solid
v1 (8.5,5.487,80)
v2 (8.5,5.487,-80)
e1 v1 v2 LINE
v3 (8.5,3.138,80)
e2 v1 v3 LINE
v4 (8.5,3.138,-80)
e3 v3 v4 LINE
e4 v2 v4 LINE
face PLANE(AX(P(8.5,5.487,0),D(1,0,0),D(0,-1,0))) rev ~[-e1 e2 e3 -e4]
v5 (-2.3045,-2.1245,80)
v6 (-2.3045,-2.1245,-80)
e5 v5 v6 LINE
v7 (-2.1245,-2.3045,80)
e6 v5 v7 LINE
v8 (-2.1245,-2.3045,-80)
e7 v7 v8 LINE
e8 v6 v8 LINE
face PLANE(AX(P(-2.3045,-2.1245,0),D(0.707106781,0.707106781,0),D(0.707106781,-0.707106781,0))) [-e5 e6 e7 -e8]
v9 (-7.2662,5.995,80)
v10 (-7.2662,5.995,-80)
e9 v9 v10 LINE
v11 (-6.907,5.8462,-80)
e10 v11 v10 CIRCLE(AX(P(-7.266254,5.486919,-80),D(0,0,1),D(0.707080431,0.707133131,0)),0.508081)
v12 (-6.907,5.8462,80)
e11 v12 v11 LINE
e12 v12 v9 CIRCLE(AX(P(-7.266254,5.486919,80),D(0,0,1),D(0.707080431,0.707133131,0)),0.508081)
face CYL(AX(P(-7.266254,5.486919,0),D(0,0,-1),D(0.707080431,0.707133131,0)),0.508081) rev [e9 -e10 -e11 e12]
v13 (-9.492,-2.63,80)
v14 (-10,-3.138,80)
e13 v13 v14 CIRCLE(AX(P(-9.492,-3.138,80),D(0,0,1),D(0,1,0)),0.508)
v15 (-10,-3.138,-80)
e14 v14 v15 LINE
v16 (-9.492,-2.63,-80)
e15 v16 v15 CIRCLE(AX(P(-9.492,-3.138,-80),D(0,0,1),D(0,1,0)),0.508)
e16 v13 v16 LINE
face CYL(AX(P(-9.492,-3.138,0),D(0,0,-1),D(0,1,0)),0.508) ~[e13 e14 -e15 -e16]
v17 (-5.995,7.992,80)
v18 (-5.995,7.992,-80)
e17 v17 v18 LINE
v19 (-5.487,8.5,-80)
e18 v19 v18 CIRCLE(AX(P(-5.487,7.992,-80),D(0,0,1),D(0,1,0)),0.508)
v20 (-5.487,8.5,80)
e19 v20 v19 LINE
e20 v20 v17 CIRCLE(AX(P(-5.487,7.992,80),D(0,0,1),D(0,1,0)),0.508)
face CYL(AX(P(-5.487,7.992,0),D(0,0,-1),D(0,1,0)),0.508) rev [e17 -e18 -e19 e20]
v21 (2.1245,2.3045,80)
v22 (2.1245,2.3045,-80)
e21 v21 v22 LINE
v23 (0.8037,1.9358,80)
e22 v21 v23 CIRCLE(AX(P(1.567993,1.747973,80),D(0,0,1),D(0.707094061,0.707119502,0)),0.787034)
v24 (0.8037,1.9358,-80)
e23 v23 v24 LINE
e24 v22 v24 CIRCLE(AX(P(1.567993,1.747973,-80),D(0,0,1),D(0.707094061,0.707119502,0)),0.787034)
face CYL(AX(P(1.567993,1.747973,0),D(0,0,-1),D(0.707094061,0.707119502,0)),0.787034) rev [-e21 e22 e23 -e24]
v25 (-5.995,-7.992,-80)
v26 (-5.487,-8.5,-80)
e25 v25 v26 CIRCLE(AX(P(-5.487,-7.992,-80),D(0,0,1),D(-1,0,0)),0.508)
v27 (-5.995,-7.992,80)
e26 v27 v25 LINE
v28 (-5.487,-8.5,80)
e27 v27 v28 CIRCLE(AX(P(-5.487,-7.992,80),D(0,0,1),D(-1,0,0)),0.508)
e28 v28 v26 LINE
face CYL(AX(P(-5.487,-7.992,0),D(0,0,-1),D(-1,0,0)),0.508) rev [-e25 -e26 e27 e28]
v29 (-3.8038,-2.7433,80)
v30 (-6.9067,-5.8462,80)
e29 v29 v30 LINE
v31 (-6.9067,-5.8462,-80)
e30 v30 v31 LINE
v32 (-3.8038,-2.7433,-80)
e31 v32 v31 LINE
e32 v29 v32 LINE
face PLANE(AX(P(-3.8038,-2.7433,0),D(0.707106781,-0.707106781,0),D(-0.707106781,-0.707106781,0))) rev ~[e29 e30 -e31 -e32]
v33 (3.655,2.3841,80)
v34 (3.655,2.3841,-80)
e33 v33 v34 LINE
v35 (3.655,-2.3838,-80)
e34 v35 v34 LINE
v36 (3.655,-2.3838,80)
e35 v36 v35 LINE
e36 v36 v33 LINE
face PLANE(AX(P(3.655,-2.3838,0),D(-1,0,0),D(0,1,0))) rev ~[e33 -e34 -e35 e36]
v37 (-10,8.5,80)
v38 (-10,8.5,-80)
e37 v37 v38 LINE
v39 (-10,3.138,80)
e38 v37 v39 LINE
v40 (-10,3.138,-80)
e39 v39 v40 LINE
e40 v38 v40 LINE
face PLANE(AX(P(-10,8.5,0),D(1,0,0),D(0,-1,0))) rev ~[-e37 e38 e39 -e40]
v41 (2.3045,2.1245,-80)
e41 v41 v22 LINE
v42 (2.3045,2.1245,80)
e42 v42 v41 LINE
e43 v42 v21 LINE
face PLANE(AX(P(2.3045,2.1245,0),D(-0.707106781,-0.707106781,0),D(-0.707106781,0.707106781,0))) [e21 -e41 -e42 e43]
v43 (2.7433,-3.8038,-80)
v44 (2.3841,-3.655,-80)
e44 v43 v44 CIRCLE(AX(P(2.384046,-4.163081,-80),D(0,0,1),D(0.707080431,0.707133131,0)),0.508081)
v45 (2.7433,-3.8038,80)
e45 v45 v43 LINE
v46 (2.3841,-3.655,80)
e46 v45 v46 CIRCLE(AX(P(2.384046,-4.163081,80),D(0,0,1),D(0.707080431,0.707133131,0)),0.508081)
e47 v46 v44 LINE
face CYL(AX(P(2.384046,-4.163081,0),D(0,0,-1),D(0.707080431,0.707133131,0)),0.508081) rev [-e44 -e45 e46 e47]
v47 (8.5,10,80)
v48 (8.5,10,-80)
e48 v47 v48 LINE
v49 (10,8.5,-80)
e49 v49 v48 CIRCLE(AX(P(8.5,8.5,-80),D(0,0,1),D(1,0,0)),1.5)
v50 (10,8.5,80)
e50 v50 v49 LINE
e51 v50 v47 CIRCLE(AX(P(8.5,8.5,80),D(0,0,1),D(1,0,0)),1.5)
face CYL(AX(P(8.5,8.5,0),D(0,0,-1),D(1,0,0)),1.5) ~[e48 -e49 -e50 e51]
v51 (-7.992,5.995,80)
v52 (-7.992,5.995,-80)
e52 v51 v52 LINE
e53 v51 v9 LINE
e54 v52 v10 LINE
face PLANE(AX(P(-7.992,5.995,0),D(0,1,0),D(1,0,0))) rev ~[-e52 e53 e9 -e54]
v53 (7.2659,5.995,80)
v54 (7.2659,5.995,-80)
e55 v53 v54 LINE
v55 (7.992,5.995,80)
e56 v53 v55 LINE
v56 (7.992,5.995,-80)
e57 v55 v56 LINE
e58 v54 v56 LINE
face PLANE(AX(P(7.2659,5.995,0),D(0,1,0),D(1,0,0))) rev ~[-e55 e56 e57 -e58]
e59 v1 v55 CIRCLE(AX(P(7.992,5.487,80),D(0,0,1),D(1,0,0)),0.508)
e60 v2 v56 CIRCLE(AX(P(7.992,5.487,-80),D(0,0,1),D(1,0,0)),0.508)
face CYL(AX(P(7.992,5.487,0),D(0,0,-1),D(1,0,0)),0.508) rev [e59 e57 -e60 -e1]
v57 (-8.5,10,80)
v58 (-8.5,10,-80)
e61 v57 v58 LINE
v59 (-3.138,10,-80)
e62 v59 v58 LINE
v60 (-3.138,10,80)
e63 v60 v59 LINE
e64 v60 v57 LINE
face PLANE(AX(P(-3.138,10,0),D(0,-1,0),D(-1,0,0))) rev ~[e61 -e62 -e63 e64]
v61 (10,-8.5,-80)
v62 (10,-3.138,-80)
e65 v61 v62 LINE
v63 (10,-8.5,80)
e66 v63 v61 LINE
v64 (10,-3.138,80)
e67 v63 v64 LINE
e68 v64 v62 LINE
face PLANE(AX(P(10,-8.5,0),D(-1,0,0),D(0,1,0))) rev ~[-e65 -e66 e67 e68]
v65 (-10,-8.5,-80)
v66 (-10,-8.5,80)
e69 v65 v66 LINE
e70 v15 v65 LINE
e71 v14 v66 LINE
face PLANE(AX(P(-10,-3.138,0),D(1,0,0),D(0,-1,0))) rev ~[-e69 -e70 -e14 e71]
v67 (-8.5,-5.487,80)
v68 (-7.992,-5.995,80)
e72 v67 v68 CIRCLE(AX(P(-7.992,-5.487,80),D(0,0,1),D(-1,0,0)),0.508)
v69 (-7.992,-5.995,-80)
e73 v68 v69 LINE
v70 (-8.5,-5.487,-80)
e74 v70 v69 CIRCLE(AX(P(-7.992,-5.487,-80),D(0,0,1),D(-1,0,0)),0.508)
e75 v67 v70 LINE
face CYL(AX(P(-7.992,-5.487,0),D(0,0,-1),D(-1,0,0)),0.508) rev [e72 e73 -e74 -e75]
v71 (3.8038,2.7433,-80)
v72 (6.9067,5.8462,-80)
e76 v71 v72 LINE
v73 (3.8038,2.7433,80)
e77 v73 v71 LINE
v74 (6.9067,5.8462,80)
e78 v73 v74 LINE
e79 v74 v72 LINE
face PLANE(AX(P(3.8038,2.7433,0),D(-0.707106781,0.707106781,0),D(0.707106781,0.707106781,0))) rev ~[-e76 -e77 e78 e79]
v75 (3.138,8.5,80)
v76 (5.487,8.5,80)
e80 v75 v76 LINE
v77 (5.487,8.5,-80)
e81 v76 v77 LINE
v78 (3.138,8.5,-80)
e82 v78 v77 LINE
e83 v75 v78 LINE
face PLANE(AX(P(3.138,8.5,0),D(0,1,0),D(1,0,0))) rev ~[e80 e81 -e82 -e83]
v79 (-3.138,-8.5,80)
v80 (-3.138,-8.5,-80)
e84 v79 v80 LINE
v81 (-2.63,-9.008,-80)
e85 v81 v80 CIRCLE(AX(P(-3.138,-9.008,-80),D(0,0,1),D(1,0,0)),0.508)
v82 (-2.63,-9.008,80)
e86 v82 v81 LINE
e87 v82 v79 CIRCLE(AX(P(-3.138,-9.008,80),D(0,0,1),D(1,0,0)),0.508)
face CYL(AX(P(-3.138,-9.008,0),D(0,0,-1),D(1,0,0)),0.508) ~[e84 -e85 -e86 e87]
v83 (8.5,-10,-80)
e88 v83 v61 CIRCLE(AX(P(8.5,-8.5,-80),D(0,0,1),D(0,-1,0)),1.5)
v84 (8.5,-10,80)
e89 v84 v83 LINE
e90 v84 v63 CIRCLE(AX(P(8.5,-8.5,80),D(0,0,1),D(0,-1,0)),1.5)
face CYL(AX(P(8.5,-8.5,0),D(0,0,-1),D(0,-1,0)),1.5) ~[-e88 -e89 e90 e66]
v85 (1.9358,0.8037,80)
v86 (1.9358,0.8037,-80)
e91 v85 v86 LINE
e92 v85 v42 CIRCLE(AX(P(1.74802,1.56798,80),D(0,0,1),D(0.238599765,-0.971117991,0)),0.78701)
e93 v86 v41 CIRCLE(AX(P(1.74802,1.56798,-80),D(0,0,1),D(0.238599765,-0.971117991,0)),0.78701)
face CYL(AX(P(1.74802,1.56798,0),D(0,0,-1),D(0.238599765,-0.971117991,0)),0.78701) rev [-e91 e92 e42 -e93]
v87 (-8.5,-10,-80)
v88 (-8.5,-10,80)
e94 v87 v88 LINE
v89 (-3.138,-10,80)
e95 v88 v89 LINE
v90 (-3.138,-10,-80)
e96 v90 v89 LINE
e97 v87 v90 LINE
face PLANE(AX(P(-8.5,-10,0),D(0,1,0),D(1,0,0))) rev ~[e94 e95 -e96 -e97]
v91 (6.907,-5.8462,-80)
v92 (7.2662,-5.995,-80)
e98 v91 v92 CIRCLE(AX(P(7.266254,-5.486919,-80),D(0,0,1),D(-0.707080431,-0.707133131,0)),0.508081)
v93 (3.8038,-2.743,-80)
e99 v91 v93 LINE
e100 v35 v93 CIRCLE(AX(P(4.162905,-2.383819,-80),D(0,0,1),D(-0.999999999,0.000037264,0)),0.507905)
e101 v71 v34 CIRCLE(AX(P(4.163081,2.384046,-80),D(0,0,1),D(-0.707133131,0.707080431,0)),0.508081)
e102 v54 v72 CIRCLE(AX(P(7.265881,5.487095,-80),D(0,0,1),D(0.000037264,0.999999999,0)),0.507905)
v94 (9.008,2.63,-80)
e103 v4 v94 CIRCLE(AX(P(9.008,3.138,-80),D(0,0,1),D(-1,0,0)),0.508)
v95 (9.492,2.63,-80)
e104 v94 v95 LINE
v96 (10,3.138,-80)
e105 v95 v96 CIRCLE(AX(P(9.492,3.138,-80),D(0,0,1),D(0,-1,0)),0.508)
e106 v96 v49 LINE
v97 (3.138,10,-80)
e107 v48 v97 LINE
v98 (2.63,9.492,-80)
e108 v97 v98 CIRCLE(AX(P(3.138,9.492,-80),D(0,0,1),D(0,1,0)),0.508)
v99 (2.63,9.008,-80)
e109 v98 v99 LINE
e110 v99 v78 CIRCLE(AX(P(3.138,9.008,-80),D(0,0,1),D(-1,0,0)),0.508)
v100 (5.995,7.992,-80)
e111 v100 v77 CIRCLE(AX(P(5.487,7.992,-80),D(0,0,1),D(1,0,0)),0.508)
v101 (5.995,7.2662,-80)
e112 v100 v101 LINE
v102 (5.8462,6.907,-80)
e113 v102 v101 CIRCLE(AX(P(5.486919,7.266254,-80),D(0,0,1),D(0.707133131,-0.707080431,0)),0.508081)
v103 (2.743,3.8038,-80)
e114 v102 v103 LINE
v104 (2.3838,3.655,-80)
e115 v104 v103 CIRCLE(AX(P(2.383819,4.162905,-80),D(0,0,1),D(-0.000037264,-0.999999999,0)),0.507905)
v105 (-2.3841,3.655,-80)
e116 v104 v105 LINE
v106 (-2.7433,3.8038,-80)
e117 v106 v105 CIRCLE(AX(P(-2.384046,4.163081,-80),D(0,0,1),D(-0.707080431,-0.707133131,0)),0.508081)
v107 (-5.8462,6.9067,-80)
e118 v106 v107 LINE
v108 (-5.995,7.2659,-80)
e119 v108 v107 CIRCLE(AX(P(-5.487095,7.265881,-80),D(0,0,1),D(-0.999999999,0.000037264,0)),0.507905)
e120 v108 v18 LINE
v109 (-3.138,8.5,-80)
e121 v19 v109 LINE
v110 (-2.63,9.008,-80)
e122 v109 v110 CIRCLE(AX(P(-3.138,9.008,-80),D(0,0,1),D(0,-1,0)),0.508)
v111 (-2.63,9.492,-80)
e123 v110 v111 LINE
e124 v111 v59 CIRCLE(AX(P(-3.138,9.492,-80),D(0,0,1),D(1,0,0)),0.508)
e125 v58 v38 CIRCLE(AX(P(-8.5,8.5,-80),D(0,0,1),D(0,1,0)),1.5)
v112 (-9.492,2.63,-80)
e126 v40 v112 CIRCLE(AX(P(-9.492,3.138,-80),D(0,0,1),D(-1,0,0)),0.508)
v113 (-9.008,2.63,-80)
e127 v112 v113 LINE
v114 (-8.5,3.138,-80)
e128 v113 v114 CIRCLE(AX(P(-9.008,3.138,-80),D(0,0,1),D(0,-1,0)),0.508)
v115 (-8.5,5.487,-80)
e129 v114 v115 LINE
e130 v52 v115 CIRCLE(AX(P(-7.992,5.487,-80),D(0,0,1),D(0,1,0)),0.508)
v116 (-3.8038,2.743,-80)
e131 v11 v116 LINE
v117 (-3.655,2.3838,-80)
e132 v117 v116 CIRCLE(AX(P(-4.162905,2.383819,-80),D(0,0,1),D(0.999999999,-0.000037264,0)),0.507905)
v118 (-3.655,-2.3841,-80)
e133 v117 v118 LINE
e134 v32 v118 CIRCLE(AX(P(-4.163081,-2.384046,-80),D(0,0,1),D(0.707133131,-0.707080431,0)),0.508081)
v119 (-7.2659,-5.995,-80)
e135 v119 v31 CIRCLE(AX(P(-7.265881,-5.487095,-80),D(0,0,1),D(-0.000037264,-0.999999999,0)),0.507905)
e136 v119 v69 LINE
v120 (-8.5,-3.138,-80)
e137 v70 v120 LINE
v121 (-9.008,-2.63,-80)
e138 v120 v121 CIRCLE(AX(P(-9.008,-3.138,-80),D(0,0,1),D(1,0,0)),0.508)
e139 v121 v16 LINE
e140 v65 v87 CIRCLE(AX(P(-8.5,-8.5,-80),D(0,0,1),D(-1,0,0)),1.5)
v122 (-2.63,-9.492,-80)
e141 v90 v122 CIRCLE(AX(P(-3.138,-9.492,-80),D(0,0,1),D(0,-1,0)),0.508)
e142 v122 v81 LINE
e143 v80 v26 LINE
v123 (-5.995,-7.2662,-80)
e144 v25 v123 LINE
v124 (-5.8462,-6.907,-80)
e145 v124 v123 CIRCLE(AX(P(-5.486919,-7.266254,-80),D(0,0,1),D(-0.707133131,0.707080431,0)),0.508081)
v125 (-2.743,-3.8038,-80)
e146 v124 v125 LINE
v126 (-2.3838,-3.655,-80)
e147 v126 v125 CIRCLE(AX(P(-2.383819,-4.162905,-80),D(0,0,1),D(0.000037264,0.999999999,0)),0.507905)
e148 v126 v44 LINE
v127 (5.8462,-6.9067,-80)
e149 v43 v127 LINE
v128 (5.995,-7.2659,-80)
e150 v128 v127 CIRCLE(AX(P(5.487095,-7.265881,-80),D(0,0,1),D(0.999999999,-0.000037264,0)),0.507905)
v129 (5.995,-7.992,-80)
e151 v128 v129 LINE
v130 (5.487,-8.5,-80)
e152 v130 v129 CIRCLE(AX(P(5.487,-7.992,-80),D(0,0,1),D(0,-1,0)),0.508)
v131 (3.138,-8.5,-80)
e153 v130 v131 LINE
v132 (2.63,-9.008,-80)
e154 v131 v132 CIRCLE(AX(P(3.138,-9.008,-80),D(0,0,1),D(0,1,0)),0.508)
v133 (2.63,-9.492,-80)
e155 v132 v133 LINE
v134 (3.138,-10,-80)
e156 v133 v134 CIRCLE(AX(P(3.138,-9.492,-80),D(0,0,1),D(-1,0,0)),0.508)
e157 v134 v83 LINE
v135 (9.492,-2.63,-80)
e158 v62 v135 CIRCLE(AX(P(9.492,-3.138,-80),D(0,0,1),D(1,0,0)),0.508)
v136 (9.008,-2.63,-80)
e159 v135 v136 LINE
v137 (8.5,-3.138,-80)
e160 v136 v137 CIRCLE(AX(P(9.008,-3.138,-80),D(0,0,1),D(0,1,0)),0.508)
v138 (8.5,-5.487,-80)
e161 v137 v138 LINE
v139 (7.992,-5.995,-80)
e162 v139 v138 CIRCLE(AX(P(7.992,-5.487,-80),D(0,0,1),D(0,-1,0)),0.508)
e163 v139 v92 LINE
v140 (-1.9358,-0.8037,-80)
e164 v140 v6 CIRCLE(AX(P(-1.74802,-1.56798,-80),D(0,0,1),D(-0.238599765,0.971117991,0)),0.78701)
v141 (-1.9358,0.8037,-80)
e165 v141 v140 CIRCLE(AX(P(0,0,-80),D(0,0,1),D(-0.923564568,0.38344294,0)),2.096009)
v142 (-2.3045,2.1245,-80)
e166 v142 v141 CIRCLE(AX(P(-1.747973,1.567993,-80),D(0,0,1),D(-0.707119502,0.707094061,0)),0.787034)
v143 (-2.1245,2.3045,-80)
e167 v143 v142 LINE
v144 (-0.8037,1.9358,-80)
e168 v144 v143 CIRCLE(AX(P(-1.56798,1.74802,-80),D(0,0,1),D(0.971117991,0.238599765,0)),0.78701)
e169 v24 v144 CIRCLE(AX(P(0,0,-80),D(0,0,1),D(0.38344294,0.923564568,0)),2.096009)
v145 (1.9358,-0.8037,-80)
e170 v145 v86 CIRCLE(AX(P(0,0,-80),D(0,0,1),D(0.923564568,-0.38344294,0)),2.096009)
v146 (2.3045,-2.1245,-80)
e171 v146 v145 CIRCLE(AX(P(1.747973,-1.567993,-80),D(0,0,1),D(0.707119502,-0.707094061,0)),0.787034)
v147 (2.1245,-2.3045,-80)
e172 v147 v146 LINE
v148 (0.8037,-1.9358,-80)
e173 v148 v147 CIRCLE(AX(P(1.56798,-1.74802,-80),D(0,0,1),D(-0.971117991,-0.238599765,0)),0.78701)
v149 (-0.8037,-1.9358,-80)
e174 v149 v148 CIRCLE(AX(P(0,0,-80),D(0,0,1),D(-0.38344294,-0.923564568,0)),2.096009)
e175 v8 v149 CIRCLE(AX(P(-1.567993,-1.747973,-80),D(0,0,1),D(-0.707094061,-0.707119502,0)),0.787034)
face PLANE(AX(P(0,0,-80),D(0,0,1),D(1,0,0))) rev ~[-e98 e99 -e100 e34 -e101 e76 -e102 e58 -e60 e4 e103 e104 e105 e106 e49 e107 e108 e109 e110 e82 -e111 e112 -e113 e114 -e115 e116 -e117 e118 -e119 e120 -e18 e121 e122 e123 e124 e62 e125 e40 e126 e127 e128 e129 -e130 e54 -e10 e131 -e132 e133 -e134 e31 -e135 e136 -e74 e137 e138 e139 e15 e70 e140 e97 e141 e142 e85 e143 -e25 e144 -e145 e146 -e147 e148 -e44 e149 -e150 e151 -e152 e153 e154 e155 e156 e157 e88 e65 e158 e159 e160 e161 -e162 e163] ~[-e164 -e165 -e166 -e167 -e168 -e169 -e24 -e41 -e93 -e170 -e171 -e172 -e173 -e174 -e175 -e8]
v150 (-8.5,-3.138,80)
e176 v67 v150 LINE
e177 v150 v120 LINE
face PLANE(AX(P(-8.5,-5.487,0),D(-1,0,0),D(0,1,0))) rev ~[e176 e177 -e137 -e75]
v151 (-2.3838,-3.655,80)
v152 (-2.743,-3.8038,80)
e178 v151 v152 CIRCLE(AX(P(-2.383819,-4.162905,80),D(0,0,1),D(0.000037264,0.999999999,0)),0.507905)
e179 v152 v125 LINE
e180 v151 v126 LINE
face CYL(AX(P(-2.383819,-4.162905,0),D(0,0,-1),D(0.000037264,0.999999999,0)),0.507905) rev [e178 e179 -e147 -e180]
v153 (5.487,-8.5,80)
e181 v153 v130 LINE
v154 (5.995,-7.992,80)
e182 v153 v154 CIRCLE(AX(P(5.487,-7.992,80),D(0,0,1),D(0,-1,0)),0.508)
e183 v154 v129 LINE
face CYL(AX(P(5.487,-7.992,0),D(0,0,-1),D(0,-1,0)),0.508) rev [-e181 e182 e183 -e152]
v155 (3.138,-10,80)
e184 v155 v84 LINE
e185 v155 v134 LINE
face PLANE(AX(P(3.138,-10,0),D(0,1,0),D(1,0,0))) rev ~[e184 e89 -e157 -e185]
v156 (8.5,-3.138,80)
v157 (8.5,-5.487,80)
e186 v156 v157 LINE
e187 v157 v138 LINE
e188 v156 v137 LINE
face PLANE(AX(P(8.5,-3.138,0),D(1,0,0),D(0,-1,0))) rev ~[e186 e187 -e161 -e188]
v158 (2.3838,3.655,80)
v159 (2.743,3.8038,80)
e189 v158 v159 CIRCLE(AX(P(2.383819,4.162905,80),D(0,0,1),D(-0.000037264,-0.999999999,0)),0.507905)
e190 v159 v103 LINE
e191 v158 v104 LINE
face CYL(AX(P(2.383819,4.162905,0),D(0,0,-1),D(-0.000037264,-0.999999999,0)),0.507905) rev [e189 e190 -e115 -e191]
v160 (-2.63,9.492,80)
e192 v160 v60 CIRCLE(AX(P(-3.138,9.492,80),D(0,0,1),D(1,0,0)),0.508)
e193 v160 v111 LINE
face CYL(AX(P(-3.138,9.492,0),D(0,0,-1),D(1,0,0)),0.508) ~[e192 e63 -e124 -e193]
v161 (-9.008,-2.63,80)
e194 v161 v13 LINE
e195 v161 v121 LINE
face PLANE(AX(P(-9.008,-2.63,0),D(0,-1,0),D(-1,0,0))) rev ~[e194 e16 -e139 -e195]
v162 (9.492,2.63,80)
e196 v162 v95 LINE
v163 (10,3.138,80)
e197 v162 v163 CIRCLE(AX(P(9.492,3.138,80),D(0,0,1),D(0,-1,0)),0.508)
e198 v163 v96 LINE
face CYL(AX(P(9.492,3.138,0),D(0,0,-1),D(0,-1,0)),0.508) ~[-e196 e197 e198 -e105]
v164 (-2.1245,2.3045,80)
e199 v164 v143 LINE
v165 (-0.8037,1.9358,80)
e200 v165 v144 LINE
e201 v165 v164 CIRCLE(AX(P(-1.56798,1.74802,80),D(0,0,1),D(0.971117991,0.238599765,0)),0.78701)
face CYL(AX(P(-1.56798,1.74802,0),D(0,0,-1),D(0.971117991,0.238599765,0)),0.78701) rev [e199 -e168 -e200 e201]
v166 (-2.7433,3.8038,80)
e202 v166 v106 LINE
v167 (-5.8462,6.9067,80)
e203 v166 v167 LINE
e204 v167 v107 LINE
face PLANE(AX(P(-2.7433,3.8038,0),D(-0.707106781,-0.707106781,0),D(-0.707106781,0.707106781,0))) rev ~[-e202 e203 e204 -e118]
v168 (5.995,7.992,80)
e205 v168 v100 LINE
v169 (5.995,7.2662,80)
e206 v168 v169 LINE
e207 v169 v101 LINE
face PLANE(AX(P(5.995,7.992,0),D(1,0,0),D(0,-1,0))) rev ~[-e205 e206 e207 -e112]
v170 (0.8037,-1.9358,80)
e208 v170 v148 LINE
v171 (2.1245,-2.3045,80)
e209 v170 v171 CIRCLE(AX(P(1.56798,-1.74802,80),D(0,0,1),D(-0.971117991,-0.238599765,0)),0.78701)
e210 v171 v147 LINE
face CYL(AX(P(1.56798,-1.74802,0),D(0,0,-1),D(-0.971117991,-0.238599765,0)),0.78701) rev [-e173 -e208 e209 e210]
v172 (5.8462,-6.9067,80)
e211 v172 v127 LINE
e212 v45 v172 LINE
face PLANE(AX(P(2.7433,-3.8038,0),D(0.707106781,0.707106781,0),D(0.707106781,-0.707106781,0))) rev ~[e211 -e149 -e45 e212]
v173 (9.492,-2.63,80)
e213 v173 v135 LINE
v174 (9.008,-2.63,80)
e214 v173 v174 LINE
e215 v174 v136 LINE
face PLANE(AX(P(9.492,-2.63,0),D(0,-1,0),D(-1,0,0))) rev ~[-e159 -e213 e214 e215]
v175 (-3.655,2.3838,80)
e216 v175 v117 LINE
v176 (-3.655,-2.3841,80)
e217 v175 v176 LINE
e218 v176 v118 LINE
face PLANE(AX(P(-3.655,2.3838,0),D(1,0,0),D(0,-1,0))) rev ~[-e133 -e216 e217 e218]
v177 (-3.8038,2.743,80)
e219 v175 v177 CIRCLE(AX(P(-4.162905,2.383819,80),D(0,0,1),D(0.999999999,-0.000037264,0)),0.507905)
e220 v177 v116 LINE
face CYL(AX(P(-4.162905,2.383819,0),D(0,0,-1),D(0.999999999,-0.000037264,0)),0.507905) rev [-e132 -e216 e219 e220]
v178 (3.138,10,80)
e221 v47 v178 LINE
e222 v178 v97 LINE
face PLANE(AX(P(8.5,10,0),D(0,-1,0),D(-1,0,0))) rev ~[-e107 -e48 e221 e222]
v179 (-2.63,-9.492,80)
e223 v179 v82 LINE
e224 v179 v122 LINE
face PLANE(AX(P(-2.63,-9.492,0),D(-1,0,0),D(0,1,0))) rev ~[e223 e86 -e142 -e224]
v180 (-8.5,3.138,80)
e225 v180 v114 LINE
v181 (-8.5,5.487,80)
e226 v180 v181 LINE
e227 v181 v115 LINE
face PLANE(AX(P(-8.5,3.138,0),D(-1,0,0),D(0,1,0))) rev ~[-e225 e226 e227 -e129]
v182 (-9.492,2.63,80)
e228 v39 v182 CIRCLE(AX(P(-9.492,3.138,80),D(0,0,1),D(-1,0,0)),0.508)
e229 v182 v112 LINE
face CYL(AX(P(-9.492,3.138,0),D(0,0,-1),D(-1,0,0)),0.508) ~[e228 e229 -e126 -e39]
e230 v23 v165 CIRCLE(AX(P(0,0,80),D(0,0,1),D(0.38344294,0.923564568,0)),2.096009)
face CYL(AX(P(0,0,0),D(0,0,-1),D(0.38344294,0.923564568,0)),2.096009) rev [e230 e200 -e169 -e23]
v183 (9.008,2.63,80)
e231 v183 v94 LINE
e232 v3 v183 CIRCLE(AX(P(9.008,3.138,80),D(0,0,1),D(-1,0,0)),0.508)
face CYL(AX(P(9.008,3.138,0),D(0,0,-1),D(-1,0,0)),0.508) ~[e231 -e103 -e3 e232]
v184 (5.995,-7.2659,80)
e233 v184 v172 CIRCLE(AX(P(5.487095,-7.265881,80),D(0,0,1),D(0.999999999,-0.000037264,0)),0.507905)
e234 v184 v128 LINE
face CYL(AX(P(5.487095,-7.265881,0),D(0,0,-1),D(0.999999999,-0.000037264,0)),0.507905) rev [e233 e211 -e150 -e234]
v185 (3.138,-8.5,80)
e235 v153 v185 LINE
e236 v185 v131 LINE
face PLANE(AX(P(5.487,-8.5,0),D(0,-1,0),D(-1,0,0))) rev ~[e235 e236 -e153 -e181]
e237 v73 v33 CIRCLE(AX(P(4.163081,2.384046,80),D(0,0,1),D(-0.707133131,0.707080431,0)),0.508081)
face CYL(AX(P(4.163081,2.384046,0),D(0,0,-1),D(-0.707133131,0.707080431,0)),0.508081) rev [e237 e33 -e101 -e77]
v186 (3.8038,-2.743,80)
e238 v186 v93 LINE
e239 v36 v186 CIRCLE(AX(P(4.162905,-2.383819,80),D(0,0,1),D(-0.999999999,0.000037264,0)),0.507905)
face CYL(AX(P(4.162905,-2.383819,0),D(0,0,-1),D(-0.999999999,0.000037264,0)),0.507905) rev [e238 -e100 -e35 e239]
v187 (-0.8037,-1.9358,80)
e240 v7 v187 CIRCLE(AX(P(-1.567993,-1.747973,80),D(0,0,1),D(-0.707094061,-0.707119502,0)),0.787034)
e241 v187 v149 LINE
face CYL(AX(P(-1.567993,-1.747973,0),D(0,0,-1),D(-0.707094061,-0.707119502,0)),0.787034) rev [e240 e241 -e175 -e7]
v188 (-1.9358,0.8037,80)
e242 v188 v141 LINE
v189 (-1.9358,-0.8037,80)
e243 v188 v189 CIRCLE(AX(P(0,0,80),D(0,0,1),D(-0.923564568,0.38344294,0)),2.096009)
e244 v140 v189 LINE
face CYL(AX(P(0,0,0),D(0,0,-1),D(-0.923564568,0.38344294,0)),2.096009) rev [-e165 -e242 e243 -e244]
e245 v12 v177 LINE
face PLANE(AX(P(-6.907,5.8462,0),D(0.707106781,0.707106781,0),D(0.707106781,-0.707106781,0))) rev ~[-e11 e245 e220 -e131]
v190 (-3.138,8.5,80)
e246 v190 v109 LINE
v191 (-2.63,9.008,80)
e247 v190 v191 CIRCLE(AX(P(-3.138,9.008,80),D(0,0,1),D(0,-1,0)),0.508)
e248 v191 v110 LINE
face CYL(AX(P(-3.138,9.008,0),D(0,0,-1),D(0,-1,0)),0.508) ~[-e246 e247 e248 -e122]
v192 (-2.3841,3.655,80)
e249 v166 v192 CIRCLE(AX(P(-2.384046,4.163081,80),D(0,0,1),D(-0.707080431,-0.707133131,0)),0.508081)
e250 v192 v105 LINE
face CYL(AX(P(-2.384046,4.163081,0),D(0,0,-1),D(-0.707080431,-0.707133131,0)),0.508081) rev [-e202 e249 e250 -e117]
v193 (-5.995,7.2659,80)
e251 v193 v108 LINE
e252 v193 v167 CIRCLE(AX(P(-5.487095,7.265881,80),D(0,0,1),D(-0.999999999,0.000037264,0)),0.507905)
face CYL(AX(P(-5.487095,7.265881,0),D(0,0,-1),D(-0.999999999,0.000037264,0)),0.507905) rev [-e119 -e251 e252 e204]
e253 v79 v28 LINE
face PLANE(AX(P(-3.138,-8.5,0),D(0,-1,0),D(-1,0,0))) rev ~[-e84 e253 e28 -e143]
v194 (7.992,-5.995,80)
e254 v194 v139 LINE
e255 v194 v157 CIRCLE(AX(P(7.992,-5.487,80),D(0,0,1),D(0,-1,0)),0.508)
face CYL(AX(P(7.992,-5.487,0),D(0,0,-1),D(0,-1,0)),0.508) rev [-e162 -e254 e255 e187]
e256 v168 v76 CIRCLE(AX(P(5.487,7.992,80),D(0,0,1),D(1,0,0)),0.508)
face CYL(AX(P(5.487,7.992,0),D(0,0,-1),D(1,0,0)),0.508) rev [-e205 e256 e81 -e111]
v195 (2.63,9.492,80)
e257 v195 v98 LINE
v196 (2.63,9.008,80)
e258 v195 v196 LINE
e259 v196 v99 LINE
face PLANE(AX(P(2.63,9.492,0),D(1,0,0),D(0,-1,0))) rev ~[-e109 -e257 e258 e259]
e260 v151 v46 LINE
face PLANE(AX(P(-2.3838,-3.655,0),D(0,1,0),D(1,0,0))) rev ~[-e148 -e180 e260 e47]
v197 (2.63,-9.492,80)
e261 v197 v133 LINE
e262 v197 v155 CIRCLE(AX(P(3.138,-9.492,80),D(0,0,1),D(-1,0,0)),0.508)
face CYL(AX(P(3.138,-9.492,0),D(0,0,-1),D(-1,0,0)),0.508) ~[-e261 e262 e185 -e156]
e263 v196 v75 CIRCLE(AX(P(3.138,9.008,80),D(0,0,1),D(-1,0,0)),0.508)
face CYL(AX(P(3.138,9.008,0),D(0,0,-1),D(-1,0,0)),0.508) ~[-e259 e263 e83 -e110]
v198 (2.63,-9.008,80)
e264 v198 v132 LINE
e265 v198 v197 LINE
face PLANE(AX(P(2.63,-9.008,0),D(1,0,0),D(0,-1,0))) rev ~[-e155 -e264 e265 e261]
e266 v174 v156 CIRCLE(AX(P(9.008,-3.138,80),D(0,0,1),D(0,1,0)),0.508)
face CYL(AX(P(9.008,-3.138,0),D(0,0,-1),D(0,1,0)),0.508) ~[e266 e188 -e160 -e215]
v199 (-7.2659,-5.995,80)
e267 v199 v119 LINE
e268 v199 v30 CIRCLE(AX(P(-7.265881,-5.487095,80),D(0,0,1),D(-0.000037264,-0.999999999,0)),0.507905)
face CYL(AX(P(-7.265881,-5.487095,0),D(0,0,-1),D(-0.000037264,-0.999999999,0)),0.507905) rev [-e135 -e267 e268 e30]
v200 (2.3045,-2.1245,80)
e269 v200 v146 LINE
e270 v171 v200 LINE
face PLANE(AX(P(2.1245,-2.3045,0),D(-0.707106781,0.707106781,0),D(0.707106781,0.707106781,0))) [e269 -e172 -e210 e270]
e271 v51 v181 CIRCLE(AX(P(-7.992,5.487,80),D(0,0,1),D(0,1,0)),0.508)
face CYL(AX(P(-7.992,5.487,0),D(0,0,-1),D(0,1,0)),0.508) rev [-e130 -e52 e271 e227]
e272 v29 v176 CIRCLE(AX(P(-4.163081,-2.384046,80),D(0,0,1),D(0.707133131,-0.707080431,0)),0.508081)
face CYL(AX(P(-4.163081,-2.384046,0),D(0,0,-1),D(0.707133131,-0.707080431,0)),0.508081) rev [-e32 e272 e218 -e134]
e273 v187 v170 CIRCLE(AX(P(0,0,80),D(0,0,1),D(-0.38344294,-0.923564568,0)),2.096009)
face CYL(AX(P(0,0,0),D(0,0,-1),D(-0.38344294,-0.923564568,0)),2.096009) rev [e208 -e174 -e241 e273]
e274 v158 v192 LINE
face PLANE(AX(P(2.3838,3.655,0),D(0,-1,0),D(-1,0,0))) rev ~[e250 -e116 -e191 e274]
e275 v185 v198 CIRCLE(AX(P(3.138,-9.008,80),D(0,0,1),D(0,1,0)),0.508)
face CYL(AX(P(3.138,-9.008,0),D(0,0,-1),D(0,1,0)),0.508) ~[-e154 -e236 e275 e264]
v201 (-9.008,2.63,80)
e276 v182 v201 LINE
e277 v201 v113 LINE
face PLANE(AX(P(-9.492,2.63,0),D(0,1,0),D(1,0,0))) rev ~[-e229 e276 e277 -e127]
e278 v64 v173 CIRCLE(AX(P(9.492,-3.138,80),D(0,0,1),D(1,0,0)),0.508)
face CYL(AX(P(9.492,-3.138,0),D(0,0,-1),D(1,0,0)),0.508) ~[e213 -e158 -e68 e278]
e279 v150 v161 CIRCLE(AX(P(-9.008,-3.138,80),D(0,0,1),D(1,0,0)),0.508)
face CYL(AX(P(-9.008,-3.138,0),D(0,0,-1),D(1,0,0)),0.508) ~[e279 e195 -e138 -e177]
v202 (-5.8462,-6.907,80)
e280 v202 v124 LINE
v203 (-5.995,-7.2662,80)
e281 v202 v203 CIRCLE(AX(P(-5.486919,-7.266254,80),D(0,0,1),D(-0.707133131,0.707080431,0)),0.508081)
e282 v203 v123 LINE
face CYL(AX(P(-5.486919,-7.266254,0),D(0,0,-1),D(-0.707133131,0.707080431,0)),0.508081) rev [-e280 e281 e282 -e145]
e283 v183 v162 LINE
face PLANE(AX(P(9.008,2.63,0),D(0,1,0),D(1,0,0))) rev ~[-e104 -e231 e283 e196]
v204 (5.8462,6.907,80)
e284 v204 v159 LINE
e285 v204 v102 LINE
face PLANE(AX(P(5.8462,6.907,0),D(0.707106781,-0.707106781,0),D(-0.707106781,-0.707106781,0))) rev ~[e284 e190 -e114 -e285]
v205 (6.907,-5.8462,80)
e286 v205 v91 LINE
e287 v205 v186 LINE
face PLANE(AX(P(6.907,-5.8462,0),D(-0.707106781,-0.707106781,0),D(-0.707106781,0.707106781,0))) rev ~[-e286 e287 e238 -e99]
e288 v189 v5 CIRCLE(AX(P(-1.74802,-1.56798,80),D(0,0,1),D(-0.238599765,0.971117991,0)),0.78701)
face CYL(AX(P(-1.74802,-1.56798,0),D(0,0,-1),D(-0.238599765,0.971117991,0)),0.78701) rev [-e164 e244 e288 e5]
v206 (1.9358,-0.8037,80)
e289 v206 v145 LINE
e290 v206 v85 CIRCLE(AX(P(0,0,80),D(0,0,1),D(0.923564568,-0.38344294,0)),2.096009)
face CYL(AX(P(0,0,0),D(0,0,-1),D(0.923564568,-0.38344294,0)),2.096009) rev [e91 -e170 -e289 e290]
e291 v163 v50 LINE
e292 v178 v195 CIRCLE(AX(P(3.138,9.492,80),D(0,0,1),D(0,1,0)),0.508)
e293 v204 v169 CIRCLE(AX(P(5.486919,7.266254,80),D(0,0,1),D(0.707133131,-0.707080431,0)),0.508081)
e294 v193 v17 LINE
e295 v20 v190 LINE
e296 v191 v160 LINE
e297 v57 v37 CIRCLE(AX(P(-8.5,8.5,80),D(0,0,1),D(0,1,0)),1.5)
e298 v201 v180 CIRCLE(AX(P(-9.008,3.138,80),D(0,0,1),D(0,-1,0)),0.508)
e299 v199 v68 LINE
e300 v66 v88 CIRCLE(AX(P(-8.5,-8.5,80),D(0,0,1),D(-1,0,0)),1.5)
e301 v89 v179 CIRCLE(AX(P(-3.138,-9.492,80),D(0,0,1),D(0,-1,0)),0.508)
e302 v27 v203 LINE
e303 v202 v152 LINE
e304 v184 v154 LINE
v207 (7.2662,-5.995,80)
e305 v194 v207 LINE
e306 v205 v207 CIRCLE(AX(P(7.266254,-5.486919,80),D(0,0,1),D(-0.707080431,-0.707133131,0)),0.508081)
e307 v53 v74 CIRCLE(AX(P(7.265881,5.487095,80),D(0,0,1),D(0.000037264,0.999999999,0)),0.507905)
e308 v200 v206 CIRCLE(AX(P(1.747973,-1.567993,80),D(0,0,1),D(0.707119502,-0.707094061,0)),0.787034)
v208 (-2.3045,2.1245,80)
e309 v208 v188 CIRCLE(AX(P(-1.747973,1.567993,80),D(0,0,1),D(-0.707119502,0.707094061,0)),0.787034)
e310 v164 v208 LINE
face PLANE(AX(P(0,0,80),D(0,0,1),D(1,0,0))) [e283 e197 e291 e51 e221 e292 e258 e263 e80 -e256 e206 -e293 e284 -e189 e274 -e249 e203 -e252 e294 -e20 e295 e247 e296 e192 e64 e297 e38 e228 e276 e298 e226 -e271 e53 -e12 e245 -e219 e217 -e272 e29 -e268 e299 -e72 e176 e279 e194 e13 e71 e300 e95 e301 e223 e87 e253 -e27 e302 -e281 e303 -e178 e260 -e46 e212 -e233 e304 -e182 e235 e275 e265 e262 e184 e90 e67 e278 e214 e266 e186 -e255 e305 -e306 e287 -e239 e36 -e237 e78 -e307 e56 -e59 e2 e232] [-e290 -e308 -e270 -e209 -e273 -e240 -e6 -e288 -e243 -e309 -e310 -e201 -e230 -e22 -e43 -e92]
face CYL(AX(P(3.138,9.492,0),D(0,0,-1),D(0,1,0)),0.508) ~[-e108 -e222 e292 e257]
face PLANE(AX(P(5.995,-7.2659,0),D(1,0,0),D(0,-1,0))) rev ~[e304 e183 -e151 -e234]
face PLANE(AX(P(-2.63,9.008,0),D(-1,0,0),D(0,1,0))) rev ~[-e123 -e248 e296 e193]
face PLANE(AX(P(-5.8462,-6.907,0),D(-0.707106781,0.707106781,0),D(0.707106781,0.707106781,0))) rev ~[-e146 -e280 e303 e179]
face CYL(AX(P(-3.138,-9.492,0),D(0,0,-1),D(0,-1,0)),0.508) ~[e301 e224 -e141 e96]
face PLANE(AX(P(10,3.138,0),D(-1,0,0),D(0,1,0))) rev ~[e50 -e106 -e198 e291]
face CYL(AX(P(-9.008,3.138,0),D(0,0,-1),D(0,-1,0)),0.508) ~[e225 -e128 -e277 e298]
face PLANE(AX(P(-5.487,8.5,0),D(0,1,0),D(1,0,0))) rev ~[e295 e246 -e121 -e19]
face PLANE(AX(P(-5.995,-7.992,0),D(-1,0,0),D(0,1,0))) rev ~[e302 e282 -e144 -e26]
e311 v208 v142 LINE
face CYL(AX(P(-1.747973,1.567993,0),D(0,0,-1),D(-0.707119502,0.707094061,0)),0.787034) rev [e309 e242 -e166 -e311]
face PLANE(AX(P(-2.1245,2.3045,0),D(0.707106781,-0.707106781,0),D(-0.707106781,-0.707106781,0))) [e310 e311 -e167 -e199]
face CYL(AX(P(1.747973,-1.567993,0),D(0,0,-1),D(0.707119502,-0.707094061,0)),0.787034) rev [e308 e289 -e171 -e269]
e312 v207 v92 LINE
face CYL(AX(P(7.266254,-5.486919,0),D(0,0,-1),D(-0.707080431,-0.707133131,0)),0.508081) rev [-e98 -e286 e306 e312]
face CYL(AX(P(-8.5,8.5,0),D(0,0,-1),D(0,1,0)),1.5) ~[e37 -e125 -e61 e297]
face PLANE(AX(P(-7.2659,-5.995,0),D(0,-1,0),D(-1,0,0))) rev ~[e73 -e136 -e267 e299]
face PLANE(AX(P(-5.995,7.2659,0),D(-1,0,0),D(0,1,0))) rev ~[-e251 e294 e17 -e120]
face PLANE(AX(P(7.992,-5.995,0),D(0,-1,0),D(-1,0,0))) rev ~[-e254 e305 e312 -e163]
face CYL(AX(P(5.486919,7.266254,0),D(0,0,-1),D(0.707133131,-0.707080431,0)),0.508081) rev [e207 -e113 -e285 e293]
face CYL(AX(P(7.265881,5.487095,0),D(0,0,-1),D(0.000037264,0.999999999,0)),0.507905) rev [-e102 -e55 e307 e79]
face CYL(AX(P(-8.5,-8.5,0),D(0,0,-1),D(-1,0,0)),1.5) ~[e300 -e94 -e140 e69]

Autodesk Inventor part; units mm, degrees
ref_plane "YZ Plane" through (0, 0, 0) normal (1, 0, 0) x (0, 1, 0)
ref_plane "XZ Plane" through (0, 0, 0) normal (0, 1, 0) x (-1, 0, 0)
ref_plane "XY Plane" through (0, 0, 0) normal (0, 0, 1) x (1, 0, 0)
sketch "Sketch1" plane through (0, 0, 0) normal (0, 0, 1) x (1, 0, 0)
  arc A0 (-10, -8.5) -> (-8.5, -10) centre (-8.5, -8.5) ccw
  line L0 (-8.5, -10) -> (-3.138, -10)
  arc A1 (-3.138, -10) -> (-2.63, -9.492) centre (-3.138, -9.492) ccw
  line L1 (-2.63, -9.492) -> (-2.63, -9.008)
  arc A2 (-2.63, -9.008) -> (-3.138, -8.5) centre (-3.138, -9.008) ccw
  line L2 (-3.138, -8.5) -> (-5.487, -8.5)
  arc A3 (-5.995, -7.992) -> (-5.487, -8.5) centre (-5.487, -7.992) ccw
  line L3 (-5.995, -7.992) -> (-5.995, -7.2662)
  arc A4 (-5.8462, -6.907) -> (-5.995, -7.2662) centre (-5.487, -7.2662) ccw
  line L4 (-5.8462, -6.907) -> (-2.743, -3.8038)
  arc A5 (-2.3838, -3.655) -> (-2.743, -3.8038) centre (-2.3838, -4.163) ccw
  line L5 (-2.3838, -3.655) -> (2.3841, -3.655)
  arc A6 (2.7433, -3.8038) -> (2.3841, -3.655) centre (2.3841, -4.163) ccw
  line L6 (2.7433, -3.8038) -> (5.8462, -6.9067)
  arc A7 (5.995, -7.2659) -> (5.8462, -6.9067) centre (5.487, -7.2659) ccw
  line L7 (5.995, -7.2659) -> (5.995, -7.992)
  arc A8 (5.487, -8.5) -> (5.995, -7.992) centre (5.487, -7.992) ccw
  line L8 (5.487, -8.5) -> (3.138, -8.5)
  arc A9 (3.138, -8.5) -> (2.63, -9.008) centre (3.138, -9.008) ccw
  line L9 (2.63, -9.008) -> (2.63, -9.492)
  arc A10 (2.63, -9.492) -> (3.138, -10) centre (3.138, -9.492) ccw
  line L10 (3.138, -10) -> (8.5, -10)
  arc A11 (8.5, -10) -> (10, -8.5) centre (8.5, -8.5) ccw
  line L11 (10, -8.5) -> (10, -3.138)
  arc A12 (10, -3.138) -> (9.492, -2.63) centre (9.492, -3.138) ccw
  line L12 (9.492, -2.63) -> (9.008, -2.63)
  arc A13 (9.008, -2.63) -> (8.5, -3.138) centre (9.008, -3.138) ccw
  line L13 (8.5, -3.138) -> (8.5, -5.487)
  arc A14 (7.992, -5.995) -> (8.5, -5.487) centre (7.992, -5.487) ccw
  line L14 (7.992, -5.995) -> (7.2662, -5.995)
  arc A15 (6.907, -5.8462) -> (7.2662, -5.995) centre (7.2662, -5.487) ccw
  line L15 (6.907, -5.8462) -> (3.8038, -2.743)
  arc A16 (3.655, -2.3838) -> (3.8038, -2.743) centre (4.163, -2.3838) ccw
  line L16 (3.655, -2.3838) -> (3.655, 2.3841)
  arc A17 (3.8038, 2.7433) -> (3.655, 2.3841) centre (4.163, 2.3841) ccw
  line L17 (3.8038, 2.7433) -> (6.9067, 5.8462)
  arc A18 (7.2659, 5.995) -> (6.9067, 5.8462) centre (7.2659, 5.487) ccw
  line L18 (7.2659, 5.995) -> (7.992, 5.995)
  arc A19 (8.5, 5.487) -> (7.992, 5.995) centre (7.992, 5.487) ccw
  line L19 (8.5, 5.487) -> (8.5, 3.138)
  arc A20 (8.5, 3.138) -> (9.008, 2.63) centre (9.008, 3.138) ccw
  line L20 (9.008, 2.63) -> (9.492, 2.63)
  arc A21 (9.492, 2.63) -> (10, 3.138) centre (9.492, 3.138) ccw
  line L21 (10, 3.138) -> (10, 8.5)
  arc A22 (10, 8.5) -> (8.5, 10) centre (8.5, 8.5) ccw
  line L22 (8.5, 10) -> (3.138, 10)
  arc A23 (3.138, 10) -> (2.63, 9.492) centre (3.138, 9.492) ccw
  line L23 (2.63, 9.492) -> (2.63, 9.008)
  arc A24 (2.63, 9.008) -> (3.138, 8.5) centre (3.138, 9.008) ccw
  line L24 (3.138, 8.5) -> (5.487, 8.5)
  arc A25 (5.995, 7.992) -> (5.487, 8.5) centre (5.487, 7.992) ccw
  line L25 (5.995, 7.992) -> (5.995, 7.2662)
  arc A26 (5.8462, 6.907) -> (5.995, 7.2662) centre (5.487, 7.2662) ccw
  line L26 (5.8462, 6.907) -> (2.743, 3.8038)
  arc A27 (2.3838, 3.655) -> (2.743, 3.8038) centre (2.3838, 4.163) ccw
  line L27 (2.3838, 3.655) -> (-2.3841, 3.655)
  arc A28 (-2.7433, 3.8038) -> (-2.3841, 3.655) centre (-2.3841, 4.163) ccw
  line L28 (-2.7433, 3.8038) -> (-5.8462, 6.9067)
  arc A29 (-5.995, 7.2659) -> (-5.8462, 6.9067) centre (-5.487, 7.2659) ccw
  line L29 (-5.995, 7.2659) -> (-5.995, 7.992)
  arc A30 (-5.487, 8.5) -> (-5.995, 7.992) centre (-5.487, 7.992) ccw
  line L30 (-5.487, 8.5) -> (-3.138, 8.5)
  arc A31 (-3.138, 8.5) -> (-2.63, 9.008) centre (-3.138, 9.008) ccw
  line L31 (-2.63, 9.008) -> (-2.63, 9.492)
  arc A32 (-2.63, 9.492) -> (-3.138, 10) centre (-3.138, 9.492) ccw
  line L32 (-3.138, 10) -> (-8.5, 10)
  arc A33 (-8.5, 10) -> (-10, 8.5) centre (-8.5, 8.5) ccw
  line L33 (-10, 8.5) -> (-10, 3.138)
  arc A34 (-10, 3.138) -> (-9.492, 2.63) centre (-9.492, 3.138) ccw
  line L34 (-9.492, 2.63) -> (-9.008, 2.63)
  arc A35 (-9.008, 2.63) -> (-8.5, 3.138) centre (-9.008, 3.138) ccw
  line L35 (-8.5, 3.138) -> (-8.5, 5.487)
  arc A36 (-7.992, 5.995) -> (-8.5, 5.487) centre (-7.992, 5.487) ccw
  line L36 (-7.992, 5.995) -> (-7.2662, 5.995)
  arc A37 (-6.907, 5.8462) -> (-7.2662, 5.995) centre (-7.2662, 5.487) ccw
  line L37 (-6.907, 5.8462) -> (-3.8038, 2.743)
  arc A38 (-3.655, 2.3838) -> (-3.8038, 2.743) centre (-4.163, 2.3838) ccw
  line L38 (-3.655, 2.3838) -> (-3.655, -2.3841)
  arc A39 (-3.8038, -2.7433) -> (-3.655, -2.3841) centre (-4.163, -2.3841) ccw
  line L39 (-3.8038, -2.7433) -> (-6.9067, -5.8462)
  arc A40 (-7.2659, -5.995) -> (-6.9067, -5.8462) centre (-7.2659, -5.487) ccw
  line L40 (-7.2659, -5.995) -> (-7.992, -5.995)
  arc A41 (-8.5, -5.487) -> (-7.992, -5.995) centre (-7.992, -5.487) ccw
  line L41 (-8.5, -5.487) -> (-8.5, -3.138)
  arc A42 (-8.5, -3.138) -> (-9.008, -2.63) centre (-9.008, -3.138) ccw
  line L42 (-9.008, -2.63) -> (-9.492, -2.63)
  arc A43 (-9.492, -2.63) -> (-10, -3.138) centre (-9.492, -3.138) ccw
  line L43 (-10, -3.138) -> (-10, -8.5)
  arc A44 (-1.9358, -0.8037) -> (-2.3045, -2.1245) centre (-1.748, -1.568) ccw
  line L44 (-2.3045, -2.1245) -> (-2.1245, -2.3045)
  arc A45 (-2.1245, -2.3045) -> (-0.8037, -1.9358) centre (-1.568, -1.748) ccw
  arc A46 (-0.8037, -1.9358) -> (0.8037, -1.9358) centre (0, 0) ccw
  arc A47 (0.8037, -1.9358) -> (2.1245, -2.3045) centre (1.568, -1.748) ccw
  line L45 (2.1245, -2.3045) -> (2.3045, -2.1245)
  arc A48 (2.3045, -2.1245) -> (1.9358, -0.8037) centre (1.748, -1.568) ccw
  arc A49 (1.9358, -0.8037) -> (1.9358, 0.8037) centre (0, 0) ccw
  arc A50 (1.9358, 0.8037) -> (2.3045, 2.1245) centre (1.748, 1.568) ccw
  line L46 (2.3045, 2.1245) -> (2.1245, 2.3045)
  arc A51 (2.1245, 2.3045) -> (0.8037, 1.9358) centre (1.568, 1.748) ccw
  arc A52 (0.8037, 1.9358) -> (-0.8037, 1.9358) centre (0, 0) ccw
  arc A53 (-0.8037, 1.9358) -> (-2.1245, 2.3045) centre (-1.568, 1.748) ccw
  line L47 (-2.1245, 2.3045) -> (-2.3045, 2.1245)
  arc A54 (-2.3045, 2.1245) -> (-1.9358, 0.8037) centre (-1.748, 1.568) ccw
  arc A55 (-1.9358, 0.8037) -> (-1.9358, -0.8037) centre (0, 0) ccw
  point P0 (0, 0)
extrude "Extrusion1" add sketch "Sketch1" along normal mid plane 160
properties part number "20-2020-285"
